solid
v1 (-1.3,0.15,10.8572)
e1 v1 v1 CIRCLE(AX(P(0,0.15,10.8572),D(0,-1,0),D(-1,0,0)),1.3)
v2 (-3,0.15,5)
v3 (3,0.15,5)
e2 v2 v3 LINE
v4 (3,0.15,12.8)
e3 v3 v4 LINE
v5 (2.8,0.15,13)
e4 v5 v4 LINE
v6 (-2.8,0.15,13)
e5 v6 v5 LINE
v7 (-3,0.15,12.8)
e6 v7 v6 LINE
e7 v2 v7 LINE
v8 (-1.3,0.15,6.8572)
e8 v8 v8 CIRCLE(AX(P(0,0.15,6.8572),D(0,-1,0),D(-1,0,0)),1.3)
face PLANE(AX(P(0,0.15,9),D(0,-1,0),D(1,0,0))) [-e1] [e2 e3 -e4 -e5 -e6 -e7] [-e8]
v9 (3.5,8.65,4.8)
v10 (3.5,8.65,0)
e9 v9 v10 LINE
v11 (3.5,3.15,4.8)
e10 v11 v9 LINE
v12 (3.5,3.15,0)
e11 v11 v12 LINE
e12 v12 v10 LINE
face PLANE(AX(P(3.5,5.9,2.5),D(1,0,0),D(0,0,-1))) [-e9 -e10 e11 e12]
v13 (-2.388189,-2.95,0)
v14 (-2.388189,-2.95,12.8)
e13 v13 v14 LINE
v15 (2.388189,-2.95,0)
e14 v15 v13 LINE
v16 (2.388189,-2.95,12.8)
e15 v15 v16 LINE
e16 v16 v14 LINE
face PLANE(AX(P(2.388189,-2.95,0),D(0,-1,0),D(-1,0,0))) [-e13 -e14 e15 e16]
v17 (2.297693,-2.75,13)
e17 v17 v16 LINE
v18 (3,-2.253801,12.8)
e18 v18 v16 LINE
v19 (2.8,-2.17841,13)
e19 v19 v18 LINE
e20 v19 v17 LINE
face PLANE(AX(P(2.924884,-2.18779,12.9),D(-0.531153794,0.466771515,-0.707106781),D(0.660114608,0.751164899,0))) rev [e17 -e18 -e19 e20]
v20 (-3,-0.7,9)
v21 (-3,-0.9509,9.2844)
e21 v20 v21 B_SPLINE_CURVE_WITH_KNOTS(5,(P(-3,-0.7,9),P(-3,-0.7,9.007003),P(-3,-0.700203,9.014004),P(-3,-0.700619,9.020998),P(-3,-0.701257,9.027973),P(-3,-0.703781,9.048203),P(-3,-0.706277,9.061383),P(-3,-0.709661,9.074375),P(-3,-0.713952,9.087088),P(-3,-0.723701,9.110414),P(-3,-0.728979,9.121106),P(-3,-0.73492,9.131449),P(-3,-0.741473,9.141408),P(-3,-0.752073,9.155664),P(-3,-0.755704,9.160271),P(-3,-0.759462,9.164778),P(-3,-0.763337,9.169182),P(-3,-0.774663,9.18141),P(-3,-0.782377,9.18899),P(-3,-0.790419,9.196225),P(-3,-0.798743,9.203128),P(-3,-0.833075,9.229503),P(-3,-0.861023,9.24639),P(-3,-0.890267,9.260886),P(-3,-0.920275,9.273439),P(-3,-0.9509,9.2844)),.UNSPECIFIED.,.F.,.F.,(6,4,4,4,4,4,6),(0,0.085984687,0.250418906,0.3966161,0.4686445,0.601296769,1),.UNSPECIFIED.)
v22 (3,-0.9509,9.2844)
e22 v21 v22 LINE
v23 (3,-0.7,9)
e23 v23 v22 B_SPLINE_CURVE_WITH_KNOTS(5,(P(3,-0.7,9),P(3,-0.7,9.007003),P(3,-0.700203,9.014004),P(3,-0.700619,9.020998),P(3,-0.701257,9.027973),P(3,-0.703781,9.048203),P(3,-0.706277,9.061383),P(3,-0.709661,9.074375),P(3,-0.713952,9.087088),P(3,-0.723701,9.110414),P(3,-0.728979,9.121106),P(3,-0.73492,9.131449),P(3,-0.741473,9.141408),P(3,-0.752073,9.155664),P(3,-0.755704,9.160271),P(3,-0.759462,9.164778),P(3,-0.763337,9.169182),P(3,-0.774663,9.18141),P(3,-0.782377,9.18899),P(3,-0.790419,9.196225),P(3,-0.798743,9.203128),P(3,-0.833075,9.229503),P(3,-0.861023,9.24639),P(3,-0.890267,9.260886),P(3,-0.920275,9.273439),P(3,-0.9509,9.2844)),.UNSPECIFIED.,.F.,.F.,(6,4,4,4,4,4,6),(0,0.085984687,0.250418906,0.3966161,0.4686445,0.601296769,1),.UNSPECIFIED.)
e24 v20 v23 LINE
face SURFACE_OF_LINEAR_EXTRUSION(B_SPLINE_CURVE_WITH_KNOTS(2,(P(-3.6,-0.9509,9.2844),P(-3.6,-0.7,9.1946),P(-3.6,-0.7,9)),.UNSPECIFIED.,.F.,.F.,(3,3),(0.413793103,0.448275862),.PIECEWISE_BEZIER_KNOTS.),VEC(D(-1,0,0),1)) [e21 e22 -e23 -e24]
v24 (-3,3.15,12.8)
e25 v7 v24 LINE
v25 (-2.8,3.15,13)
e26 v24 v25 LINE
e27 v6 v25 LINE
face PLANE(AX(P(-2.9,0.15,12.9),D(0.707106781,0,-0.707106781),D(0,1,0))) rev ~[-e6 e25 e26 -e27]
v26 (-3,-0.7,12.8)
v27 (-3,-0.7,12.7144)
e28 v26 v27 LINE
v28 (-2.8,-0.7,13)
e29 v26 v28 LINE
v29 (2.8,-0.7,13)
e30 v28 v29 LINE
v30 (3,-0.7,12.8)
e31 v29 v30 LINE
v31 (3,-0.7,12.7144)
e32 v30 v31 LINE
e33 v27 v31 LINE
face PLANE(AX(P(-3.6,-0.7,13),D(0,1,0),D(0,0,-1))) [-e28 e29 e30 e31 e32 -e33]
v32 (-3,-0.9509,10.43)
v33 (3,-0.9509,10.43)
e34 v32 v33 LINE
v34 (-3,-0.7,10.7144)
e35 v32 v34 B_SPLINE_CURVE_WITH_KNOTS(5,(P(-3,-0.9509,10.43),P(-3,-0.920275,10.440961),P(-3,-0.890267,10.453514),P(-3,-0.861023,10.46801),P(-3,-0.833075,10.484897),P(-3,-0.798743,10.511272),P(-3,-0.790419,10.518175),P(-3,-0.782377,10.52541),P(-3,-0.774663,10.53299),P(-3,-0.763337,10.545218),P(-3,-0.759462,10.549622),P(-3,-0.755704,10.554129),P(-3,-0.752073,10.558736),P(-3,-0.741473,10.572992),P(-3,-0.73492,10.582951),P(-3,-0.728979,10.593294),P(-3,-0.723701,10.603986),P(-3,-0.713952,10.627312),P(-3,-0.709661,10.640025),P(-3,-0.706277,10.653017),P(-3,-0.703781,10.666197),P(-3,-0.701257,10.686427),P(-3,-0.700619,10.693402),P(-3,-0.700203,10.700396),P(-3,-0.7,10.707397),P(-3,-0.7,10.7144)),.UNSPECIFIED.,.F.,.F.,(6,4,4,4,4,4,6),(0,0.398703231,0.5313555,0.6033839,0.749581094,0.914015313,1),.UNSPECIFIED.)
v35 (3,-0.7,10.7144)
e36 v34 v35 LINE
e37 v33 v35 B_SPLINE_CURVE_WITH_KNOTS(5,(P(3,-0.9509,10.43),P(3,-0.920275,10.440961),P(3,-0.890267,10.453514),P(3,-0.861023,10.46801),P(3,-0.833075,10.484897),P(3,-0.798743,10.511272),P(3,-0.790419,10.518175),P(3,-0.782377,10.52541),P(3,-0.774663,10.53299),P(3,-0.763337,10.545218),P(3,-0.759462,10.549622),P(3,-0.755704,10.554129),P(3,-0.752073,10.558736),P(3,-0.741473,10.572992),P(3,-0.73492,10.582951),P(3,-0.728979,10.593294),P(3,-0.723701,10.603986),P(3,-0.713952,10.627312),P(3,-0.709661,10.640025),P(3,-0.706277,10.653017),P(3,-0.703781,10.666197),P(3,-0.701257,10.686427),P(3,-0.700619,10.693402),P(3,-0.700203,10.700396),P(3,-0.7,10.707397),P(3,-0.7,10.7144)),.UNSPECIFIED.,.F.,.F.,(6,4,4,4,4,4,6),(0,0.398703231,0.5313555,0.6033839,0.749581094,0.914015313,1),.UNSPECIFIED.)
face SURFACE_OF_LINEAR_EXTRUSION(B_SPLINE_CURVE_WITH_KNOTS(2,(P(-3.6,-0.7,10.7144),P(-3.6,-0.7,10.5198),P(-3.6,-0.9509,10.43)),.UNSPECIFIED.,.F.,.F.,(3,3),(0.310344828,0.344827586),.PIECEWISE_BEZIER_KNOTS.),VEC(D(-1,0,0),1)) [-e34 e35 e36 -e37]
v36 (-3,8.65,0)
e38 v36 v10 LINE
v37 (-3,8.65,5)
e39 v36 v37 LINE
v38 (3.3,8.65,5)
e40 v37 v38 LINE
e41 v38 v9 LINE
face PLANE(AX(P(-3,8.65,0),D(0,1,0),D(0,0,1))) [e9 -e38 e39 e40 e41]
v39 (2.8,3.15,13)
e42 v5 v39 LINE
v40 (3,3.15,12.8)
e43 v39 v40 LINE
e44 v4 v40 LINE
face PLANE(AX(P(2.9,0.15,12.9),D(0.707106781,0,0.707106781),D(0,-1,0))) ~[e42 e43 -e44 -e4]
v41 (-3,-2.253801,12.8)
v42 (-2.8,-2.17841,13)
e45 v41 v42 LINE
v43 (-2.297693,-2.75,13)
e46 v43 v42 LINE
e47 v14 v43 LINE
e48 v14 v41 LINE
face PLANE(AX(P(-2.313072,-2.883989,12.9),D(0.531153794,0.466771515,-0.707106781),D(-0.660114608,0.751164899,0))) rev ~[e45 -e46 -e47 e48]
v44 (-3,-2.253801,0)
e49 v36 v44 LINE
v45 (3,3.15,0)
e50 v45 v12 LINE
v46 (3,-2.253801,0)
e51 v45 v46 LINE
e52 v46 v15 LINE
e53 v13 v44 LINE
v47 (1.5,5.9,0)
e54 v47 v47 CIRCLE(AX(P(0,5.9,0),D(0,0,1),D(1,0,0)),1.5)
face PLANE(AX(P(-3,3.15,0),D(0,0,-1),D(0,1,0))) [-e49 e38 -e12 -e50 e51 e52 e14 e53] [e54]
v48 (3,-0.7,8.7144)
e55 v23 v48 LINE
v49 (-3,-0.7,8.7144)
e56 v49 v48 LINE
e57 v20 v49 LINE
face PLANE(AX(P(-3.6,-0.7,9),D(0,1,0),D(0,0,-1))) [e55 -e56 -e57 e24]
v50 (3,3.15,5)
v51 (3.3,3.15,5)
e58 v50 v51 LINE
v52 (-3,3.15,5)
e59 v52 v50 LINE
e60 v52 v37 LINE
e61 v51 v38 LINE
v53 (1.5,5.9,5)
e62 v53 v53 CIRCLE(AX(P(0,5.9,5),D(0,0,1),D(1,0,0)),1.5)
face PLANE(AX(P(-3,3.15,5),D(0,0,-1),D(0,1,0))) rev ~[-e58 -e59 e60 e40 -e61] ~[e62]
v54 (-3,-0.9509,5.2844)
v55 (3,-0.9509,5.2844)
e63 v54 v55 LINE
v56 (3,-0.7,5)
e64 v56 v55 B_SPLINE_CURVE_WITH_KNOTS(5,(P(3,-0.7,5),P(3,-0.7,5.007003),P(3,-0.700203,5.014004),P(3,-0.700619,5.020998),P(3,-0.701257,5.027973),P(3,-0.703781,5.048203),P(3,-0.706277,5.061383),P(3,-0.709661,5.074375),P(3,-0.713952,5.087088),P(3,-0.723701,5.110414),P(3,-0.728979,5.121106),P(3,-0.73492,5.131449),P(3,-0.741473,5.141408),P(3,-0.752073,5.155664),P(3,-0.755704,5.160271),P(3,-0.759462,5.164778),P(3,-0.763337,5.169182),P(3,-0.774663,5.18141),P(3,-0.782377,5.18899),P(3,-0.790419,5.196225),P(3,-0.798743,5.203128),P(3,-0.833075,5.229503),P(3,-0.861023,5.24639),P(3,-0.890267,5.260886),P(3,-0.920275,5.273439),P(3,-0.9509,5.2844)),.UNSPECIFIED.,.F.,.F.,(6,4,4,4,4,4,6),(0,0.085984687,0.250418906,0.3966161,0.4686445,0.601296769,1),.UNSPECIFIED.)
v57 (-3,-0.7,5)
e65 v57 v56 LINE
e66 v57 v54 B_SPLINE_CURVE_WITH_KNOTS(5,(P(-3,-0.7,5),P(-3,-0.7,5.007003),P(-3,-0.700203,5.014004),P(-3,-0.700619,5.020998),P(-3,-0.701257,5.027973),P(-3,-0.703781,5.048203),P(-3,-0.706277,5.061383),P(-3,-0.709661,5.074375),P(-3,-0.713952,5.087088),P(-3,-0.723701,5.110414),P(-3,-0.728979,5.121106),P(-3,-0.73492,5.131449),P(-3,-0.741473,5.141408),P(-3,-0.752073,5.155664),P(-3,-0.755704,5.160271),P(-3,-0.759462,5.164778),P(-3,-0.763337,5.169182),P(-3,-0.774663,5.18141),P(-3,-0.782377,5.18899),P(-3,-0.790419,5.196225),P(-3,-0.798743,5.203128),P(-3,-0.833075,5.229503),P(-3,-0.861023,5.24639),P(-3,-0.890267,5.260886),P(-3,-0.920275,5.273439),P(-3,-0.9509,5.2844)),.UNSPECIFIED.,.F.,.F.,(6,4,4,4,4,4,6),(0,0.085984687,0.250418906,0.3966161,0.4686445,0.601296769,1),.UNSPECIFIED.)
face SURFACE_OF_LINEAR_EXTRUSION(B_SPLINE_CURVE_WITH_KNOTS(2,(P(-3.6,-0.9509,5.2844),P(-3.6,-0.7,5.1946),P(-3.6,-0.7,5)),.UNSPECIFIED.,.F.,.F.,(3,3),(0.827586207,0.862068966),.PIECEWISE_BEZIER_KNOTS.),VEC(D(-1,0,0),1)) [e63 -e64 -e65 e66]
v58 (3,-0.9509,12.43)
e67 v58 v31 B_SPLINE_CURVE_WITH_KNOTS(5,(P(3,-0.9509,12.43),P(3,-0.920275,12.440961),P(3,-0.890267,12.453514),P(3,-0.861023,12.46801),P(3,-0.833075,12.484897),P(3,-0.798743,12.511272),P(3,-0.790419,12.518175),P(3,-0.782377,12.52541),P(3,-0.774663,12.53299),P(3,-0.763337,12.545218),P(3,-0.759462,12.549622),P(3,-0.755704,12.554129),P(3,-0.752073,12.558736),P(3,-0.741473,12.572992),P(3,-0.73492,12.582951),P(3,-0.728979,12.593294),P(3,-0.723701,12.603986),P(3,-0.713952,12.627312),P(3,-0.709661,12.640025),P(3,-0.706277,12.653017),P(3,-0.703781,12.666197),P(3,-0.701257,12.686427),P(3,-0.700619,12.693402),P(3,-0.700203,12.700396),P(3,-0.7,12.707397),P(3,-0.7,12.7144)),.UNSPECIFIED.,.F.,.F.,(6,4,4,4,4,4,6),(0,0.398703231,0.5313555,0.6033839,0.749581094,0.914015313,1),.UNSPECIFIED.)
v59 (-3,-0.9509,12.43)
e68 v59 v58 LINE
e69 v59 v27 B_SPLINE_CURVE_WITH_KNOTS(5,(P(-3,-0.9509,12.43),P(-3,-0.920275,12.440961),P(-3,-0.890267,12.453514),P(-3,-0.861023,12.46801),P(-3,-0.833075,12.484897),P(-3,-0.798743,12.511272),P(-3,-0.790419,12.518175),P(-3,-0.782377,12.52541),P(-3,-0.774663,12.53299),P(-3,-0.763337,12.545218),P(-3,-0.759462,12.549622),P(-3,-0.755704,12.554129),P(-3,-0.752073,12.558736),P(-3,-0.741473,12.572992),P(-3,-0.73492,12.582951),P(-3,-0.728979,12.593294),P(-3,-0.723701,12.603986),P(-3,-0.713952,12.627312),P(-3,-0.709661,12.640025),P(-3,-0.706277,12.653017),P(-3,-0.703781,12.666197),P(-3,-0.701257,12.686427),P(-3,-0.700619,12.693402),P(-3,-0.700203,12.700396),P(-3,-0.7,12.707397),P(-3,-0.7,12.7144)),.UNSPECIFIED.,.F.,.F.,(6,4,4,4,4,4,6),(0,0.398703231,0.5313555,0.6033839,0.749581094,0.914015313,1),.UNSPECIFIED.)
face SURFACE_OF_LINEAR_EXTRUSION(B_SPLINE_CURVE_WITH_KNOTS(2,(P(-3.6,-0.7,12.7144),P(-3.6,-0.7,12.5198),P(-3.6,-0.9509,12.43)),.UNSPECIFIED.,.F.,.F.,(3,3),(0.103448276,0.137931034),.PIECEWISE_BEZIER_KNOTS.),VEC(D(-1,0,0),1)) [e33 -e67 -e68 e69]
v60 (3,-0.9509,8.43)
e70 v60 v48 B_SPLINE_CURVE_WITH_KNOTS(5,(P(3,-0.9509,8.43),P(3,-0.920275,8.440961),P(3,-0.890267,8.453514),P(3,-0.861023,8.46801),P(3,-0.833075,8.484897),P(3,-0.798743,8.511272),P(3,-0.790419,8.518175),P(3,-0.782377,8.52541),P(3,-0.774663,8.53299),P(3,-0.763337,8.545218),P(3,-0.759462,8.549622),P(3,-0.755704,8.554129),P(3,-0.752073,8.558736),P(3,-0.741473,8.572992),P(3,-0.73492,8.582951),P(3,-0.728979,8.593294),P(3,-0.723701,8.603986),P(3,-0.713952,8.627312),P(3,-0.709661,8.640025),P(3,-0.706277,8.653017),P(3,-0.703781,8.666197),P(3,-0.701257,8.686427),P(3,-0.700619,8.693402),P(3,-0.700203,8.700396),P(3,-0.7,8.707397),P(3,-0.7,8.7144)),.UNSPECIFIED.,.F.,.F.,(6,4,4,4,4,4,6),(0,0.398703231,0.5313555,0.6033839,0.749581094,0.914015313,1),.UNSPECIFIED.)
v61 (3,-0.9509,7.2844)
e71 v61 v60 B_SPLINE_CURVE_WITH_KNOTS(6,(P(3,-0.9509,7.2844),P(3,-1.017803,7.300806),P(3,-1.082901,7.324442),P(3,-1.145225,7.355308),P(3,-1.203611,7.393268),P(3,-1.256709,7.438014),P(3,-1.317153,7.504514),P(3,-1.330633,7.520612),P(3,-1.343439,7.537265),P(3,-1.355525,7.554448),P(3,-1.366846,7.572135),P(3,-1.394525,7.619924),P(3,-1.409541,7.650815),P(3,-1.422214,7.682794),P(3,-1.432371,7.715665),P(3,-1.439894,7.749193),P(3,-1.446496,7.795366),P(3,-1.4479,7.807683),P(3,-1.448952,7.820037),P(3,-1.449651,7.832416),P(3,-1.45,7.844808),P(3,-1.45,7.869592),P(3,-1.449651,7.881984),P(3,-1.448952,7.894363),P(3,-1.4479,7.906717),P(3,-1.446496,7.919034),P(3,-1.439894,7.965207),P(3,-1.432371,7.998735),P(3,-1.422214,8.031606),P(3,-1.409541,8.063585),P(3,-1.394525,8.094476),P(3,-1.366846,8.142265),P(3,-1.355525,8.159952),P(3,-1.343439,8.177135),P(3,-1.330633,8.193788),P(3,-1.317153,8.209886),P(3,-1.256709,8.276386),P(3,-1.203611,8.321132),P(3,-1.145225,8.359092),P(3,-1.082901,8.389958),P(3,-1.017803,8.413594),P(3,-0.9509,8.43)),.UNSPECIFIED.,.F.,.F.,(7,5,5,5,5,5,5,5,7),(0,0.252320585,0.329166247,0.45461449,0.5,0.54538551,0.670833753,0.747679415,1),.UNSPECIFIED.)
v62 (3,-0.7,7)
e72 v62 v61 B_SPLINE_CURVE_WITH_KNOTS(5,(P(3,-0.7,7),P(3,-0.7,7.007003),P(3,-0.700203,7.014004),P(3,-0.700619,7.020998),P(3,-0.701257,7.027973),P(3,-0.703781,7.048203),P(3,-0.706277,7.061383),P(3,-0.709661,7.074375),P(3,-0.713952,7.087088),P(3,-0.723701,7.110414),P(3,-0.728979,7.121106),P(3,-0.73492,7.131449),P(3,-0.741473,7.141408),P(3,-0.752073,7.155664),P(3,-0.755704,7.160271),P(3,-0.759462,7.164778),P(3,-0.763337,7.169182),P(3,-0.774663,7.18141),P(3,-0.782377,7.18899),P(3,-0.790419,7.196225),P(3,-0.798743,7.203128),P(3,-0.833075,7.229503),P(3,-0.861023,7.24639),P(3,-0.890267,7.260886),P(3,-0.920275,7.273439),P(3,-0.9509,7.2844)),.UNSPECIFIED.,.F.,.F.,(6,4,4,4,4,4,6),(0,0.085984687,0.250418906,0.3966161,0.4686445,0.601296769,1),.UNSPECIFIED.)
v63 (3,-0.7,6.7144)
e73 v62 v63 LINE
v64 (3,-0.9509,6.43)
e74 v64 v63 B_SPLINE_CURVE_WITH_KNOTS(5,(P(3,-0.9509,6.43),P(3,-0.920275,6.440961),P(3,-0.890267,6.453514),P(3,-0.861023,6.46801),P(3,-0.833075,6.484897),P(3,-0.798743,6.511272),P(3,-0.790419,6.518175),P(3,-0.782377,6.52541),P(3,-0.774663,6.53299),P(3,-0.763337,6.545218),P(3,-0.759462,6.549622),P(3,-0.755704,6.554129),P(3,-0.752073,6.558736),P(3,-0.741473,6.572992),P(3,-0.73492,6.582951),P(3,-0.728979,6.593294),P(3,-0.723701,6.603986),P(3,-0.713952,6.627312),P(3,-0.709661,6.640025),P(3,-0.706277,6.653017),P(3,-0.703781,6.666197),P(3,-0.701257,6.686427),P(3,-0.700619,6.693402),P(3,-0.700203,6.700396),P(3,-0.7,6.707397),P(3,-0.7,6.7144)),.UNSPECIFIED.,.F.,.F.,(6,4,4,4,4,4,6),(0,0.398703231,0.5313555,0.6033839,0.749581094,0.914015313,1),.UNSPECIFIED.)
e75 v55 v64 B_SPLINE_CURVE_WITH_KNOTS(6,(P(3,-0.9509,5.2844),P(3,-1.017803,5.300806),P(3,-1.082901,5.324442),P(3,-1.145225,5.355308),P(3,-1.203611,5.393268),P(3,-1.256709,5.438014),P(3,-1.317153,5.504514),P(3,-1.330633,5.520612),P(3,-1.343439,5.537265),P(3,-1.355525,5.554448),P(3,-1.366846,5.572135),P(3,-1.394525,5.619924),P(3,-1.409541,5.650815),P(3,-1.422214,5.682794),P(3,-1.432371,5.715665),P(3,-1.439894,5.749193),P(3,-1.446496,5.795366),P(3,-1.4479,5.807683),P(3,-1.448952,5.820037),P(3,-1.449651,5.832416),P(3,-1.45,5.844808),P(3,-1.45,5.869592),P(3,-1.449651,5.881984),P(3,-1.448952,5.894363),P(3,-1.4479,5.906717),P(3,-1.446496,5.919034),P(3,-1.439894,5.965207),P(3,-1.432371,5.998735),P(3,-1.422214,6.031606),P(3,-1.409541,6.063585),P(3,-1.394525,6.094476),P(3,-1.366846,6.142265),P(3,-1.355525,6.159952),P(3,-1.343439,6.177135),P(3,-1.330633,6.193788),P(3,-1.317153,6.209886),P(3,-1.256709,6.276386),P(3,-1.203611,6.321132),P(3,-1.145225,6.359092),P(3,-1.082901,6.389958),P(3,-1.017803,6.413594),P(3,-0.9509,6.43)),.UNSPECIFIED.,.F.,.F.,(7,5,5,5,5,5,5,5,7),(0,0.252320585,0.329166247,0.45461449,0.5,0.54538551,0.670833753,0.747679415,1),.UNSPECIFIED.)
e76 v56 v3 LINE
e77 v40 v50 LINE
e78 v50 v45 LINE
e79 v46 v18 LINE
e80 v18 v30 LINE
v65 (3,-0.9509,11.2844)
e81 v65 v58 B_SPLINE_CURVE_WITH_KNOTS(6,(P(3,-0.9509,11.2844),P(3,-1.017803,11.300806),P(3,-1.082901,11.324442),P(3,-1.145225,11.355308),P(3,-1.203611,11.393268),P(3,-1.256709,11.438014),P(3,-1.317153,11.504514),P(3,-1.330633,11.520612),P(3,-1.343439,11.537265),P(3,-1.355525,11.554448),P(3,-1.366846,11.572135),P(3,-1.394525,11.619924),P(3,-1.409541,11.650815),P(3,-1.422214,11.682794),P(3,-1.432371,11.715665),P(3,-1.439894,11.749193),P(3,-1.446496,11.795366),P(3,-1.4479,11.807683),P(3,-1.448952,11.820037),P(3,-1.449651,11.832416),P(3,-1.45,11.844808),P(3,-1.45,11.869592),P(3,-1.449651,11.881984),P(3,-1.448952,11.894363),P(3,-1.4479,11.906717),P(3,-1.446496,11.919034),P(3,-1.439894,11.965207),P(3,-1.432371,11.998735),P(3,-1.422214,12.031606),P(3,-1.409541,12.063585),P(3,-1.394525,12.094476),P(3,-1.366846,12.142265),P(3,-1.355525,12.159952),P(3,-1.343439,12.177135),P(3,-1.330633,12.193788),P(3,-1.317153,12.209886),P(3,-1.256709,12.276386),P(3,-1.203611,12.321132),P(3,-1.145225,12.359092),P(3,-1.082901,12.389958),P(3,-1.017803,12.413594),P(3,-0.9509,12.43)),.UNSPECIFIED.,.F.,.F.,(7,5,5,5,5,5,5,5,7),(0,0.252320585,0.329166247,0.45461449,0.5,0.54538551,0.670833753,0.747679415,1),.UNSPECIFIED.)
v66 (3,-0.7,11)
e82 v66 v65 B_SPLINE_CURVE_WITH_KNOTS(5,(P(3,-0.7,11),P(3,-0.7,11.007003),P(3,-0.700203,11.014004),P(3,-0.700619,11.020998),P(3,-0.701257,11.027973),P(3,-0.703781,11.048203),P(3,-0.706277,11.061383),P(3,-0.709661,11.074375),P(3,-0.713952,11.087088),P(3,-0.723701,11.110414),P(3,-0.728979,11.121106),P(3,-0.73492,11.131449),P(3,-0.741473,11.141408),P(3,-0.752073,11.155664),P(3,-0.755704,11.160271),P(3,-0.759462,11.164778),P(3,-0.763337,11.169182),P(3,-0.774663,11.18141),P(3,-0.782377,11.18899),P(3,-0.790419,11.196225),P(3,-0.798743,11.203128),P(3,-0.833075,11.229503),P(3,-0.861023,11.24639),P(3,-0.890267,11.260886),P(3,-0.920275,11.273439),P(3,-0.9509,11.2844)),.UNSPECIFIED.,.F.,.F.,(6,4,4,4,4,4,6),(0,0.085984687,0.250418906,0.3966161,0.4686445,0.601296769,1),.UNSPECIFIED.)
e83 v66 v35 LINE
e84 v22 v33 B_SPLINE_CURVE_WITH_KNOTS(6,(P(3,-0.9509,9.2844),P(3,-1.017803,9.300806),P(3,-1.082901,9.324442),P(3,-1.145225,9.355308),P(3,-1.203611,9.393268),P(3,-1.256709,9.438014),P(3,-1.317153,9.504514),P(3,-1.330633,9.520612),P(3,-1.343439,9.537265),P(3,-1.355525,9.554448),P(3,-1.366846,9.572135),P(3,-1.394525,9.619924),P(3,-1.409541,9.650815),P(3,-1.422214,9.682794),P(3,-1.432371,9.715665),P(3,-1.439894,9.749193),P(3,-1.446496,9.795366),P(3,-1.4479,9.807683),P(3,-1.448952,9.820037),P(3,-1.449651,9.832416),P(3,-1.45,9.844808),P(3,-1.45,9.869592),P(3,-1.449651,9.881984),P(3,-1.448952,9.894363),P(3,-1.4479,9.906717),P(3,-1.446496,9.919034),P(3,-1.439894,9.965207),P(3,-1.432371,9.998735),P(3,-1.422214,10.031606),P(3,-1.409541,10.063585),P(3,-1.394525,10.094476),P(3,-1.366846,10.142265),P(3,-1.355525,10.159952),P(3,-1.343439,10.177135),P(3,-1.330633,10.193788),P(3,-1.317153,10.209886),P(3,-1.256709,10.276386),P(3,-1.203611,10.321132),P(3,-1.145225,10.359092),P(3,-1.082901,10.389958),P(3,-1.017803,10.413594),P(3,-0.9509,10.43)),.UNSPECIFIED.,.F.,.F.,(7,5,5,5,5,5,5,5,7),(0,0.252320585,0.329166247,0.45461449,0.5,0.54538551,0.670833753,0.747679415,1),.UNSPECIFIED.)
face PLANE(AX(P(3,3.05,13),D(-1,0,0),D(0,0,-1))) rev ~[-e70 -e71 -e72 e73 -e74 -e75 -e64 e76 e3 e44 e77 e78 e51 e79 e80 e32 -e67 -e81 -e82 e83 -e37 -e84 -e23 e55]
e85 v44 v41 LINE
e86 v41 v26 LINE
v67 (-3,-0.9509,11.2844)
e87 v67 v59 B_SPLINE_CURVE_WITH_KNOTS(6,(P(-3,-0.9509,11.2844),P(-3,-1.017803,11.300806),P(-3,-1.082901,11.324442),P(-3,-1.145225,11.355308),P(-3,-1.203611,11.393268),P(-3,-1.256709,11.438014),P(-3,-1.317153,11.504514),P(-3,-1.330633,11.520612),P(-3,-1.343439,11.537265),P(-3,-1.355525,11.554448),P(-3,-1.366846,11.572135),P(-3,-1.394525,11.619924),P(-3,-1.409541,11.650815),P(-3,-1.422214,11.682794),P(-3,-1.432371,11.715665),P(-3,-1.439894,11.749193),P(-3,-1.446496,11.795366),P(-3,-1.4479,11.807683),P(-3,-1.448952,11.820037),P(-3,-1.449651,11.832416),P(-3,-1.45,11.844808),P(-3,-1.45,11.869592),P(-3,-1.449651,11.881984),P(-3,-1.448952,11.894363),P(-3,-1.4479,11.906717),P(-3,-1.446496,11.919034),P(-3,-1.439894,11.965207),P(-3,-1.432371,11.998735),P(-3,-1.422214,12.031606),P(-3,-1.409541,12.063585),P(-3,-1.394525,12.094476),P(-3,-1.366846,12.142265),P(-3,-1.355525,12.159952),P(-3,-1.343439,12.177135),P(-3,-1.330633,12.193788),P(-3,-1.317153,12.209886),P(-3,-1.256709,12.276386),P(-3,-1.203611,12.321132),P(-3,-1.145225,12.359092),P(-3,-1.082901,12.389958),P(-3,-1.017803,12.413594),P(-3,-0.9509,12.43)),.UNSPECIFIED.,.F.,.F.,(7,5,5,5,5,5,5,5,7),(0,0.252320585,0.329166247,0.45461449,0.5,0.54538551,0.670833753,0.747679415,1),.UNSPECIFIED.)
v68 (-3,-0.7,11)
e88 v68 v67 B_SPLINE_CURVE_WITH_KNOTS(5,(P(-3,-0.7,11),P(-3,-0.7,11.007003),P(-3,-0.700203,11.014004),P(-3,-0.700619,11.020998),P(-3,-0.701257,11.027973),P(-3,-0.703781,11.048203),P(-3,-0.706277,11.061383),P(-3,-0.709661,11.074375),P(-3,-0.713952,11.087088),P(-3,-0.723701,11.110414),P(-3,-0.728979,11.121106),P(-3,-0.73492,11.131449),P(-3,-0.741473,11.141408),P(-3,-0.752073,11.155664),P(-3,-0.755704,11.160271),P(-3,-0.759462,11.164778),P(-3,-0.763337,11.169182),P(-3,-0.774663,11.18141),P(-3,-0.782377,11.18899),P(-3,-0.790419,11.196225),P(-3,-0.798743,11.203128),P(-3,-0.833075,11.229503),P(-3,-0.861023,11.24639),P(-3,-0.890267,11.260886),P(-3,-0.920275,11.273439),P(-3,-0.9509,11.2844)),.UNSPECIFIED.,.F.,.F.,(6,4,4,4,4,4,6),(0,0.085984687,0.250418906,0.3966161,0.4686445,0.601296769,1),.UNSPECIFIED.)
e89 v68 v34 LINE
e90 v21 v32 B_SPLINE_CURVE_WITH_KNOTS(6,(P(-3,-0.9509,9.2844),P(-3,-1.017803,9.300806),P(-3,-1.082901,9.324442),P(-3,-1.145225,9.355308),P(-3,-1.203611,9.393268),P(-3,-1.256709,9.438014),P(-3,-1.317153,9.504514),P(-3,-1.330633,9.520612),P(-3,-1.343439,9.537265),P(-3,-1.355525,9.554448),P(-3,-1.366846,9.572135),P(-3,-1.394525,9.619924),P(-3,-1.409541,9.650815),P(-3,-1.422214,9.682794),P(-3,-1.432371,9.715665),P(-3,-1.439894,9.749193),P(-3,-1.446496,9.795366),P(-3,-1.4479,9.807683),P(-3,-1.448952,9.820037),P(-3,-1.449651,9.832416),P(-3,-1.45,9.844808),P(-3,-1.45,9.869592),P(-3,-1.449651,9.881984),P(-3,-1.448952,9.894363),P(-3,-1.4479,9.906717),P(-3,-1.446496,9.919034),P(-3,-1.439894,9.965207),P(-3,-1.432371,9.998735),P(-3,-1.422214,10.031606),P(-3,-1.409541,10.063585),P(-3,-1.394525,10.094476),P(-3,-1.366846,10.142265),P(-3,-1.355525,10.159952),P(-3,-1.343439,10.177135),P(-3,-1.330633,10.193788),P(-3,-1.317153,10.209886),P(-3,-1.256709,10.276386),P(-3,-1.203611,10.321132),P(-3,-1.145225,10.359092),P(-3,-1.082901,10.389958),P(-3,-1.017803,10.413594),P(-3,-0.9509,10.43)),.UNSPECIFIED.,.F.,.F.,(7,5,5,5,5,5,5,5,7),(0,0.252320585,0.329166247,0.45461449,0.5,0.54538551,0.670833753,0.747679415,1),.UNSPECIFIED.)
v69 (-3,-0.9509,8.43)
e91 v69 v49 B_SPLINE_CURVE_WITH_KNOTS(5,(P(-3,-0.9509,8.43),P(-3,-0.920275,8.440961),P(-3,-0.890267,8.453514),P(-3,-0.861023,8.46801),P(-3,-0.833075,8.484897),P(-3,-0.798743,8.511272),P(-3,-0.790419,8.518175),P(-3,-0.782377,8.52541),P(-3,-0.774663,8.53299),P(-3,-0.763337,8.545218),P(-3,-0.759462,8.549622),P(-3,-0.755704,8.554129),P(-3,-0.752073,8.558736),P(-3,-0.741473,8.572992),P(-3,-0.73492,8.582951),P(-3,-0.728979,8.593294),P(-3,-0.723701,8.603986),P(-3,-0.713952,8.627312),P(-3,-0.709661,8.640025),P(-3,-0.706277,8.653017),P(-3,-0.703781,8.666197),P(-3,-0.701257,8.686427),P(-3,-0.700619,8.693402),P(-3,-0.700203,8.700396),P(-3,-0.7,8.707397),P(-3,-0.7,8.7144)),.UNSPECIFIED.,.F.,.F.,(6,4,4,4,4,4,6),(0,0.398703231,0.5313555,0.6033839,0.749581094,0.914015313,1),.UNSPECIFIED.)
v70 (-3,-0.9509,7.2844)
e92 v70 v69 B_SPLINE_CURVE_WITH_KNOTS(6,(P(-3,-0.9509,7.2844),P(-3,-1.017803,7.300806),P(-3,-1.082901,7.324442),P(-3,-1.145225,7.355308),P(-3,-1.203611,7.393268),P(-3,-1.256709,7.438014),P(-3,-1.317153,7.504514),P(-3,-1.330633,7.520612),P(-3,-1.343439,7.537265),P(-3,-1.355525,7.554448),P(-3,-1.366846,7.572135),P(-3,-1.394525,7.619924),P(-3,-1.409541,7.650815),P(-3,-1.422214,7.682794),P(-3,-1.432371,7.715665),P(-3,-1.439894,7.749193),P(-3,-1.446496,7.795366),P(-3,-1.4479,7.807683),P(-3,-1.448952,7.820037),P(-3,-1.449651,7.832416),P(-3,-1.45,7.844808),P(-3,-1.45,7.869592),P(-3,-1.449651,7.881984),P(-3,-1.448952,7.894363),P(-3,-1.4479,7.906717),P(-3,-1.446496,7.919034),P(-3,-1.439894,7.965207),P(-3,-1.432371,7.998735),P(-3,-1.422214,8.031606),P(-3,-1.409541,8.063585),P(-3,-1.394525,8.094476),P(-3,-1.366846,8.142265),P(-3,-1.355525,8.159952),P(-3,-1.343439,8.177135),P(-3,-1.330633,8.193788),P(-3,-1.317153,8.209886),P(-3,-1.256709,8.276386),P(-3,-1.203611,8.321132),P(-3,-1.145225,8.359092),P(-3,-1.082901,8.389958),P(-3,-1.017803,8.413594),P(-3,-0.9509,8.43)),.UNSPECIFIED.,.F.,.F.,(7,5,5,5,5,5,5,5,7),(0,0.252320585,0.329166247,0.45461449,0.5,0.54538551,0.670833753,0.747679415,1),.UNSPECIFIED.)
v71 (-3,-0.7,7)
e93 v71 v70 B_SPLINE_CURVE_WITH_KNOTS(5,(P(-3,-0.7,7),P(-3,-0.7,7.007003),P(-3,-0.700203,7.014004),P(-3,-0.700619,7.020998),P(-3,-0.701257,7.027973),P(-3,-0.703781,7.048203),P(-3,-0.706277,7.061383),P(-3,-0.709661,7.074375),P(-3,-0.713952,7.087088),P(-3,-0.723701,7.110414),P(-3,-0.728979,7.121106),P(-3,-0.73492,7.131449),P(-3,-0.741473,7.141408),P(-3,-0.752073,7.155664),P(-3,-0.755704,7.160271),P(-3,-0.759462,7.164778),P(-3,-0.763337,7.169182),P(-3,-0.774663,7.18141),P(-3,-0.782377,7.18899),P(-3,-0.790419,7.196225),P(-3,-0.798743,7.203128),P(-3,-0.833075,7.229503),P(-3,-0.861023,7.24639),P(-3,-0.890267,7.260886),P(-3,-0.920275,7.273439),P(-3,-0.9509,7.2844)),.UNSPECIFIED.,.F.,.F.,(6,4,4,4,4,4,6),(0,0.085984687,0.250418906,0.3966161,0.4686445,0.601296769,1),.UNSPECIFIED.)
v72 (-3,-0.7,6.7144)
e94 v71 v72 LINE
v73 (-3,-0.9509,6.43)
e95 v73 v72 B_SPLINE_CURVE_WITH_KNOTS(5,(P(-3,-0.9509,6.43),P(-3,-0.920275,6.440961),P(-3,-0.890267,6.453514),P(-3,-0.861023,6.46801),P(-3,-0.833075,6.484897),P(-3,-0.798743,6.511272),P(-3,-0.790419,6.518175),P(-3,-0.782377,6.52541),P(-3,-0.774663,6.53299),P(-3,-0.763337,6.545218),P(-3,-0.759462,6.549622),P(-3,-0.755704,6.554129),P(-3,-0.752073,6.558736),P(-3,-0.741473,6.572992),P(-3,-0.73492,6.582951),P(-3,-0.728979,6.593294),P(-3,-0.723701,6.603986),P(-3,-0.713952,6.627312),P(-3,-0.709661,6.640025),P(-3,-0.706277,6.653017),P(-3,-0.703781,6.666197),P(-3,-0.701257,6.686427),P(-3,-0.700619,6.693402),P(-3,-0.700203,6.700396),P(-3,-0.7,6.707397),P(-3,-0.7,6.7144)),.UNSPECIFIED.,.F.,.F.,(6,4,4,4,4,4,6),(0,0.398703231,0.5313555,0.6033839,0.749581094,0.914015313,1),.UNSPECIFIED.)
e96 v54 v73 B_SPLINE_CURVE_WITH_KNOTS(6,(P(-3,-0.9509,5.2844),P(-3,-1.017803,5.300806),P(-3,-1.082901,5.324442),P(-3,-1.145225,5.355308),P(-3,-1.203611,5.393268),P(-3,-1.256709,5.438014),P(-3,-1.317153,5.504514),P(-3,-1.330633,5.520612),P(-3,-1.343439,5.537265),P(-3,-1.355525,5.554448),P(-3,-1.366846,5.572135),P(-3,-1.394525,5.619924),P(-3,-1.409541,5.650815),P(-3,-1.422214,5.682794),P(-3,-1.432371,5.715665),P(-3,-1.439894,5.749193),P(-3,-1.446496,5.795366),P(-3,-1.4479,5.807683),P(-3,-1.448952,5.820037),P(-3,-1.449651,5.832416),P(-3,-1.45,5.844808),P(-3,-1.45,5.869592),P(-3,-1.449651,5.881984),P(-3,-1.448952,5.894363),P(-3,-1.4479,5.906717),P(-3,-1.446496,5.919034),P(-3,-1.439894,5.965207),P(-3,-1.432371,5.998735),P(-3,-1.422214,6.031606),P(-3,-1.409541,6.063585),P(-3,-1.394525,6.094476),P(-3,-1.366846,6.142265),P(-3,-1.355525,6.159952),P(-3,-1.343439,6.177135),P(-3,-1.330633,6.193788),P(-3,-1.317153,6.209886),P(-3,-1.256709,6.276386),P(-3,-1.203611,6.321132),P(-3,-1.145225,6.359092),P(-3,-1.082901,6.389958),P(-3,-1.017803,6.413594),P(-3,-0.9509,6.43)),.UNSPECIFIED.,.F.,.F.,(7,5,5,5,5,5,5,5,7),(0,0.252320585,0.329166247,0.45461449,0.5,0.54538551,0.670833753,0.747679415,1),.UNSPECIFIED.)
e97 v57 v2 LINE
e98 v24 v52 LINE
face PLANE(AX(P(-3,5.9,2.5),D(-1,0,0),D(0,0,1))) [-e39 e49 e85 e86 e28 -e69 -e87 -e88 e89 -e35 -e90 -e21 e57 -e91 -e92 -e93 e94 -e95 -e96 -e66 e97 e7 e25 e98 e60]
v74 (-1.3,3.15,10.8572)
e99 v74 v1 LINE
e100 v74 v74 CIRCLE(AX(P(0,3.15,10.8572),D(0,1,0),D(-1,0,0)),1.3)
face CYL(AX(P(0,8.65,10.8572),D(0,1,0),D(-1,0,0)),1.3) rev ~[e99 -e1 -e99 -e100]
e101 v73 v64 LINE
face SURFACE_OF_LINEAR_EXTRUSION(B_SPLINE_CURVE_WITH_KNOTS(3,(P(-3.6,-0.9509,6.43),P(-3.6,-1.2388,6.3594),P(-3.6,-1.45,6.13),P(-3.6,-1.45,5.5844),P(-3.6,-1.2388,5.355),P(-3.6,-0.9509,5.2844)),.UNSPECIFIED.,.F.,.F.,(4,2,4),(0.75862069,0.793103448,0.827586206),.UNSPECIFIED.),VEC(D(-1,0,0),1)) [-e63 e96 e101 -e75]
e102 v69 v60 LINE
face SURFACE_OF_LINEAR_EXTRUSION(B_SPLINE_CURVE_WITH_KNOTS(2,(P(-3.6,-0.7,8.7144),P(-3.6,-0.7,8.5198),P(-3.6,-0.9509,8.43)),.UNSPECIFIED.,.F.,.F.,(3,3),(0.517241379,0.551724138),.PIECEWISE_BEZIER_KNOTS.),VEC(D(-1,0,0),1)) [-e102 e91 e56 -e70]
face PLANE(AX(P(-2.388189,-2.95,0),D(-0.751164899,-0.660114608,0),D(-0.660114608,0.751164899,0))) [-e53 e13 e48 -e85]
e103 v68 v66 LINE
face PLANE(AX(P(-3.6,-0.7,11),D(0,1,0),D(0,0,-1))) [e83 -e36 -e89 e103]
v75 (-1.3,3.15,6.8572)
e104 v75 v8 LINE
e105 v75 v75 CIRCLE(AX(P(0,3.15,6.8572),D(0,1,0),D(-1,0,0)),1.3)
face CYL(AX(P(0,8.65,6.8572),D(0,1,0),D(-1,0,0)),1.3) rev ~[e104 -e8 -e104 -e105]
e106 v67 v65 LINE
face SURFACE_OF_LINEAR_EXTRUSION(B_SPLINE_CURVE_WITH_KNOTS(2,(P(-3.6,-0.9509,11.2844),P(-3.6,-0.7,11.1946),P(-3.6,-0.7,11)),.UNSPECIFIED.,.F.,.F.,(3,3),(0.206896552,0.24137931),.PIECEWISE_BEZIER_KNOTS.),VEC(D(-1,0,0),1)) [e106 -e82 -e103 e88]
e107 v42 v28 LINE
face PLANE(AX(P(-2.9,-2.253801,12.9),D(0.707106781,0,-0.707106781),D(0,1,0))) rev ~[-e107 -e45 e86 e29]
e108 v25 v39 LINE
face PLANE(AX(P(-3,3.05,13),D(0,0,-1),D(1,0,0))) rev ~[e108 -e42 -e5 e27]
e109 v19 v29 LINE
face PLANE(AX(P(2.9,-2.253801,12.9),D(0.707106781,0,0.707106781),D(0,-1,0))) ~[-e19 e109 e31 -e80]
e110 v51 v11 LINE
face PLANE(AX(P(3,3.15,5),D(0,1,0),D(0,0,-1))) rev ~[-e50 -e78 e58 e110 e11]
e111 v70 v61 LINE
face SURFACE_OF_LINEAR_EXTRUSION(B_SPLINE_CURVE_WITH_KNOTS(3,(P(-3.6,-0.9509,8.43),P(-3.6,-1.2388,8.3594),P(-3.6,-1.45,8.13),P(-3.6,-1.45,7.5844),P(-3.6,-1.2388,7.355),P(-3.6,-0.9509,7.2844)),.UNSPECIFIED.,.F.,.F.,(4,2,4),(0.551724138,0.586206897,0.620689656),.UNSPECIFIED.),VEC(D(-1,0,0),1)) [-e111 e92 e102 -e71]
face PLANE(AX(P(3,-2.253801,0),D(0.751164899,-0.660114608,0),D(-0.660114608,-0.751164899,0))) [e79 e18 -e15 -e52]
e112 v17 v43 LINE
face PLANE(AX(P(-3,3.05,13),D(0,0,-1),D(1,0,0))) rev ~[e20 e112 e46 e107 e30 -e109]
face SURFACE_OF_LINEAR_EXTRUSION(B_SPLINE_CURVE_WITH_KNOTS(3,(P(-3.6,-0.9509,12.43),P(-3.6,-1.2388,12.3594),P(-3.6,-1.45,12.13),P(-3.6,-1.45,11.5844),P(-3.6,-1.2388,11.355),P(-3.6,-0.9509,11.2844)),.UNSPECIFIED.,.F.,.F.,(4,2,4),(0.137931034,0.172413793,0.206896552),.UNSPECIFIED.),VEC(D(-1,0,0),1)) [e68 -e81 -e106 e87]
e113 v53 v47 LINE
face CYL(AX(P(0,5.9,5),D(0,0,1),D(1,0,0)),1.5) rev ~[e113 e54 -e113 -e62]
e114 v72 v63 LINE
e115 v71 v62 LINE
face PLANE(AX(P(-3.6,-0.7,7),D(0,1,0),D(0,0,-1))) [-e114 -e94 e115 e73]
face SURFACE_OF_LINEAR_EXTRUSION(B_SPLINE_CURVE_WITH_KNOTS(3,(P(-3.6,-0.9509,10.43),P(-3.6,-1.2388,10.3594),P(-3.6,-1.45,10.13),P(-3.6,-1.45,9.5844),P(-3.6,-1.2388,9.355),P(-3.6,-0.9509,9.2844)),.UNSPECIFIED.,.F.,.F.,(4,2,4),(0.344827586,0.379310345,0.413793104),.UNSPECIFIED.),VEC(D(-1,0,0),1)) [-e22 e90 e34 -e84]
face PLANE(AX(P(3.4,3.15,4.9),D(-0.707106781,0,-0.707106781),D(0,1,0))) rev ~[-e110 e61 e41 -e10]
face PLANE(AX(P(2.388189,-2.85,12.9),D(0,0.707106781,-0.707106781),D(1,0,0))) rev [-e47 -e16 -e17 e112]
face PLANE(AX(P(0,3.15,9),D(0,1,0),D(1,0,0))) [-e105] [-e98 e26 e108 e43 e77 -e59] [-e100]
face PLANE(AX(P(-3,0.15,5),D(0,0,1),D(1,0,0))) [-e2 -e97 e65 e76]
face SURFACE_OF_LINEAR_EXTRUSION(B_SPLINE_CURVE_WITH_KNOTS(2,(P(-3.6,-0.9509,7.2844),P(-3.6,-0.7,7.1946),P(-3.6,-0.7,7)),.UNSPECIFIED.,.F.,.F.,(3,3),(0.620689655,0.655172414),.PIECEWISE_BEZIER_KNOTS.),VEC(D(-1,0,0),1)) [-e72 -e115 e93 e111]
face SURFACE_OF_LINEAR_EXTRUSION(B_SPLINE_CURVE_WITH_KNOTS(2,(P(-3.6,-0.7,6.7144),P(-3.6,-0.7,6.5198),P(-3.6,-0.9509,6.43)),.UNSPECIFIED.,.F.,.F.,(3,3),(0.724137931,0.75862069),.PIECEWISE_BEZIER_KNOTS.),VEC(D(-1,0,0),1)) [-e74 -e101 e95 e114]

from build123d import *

# Parameters (mm, degrees)
BOSS_EXTRUDE1_DEPTH     = 13
SKETCH6_W               = 6
SKETCH6_H               = 5
BOSS_EXTRUDE4_DEPTH     = 5.6
SKETCH16_W              = 6
SKETCH16_H              = 8
BOSS_EXTRUDE5_DEPTH     = 0.1
CUT_EXTRUDE6_DEPTH      = 4
CUT_EXTRUDE6_DEPTH_BACK = 3.6
SKETCH15_R              = 1.3
CUT_EXTRUDE7_DEPTH      = 8.7202
CUT_EXTRUDE8_START      = -0.2202
SKETCH19_W              = 6
SKETCH19_H              = 8
SKETCH19_R              = 1.3
CUT_EXTRUDE8_DEPTH      = 0.2202
SKETCH12_R              = 1.5
CUT_EXTRUDE5_DEPTH      = 6
CHAMFER1_SIZE           = 0.2
SKETCH20_W              = 5
SKETCH20_H              = 5.5
BOSS_EXTRUDE6_DEPTH     = 0.5
SKETCH21_W              = 5
SKETCH21_H              = 5.5
BOSS_EXTRUDE7_DEPTH     = 0.5
CHAMFER2_SIZE           = 0.2
CROQUIS1_W              = 5
CROQUIS1_H              = 5.5
CORTAR_EXTRUIR1_DEPTH   = 0.5


with BuildPart() as part:
    # Sketch1 → Boss-Extrude1 (new body)
    with BuildSketch(Plane.XY):
        Polygon((3, 3.05), (3, -2.253801214), (2.388188946, -2.95), (-2.388188946, -2.95), (-3, -2.253801214), (-3, 3.05), align=None)
    extrude(amount=BOSS_EXTRUDE1_DEPTH)

    # Sketch6 → Boss-Extrude4 (add)
    with BuildSketch(Plane(origin=(0, 3.05, 0), x_dir=(1, 0, 0), z_dir=(0, 1, 0))):
        with Locations((0, -2.5)):
            Rectangle(SKETCH6_W, SKETCH6_H)
    extrude(amount=BOSS_EXTRUDE4_DEPTH)

    # Sketch16 → Boss-Extrude5 (add)
    with BuildSketch(Plane(origin=(0, 3.05, 0), x_dir=(1, 0, 0), z_dir=(0, 1, 0))):
        with Locations((0, -9)):
            Rectangle(SKETCH16_W, SKETCH16_H)
    extrude(amount=BOSS_EXTRUDE5_DEPTH)

    # Sketch18 → Cut-Extrude6 (cut, two sides: drawn at the far end of the back side and taken through both)
    with BuildSketch(Plane(origin=(0, 0, 0), x_dir=(0, 0, -1), z_dir=(1, 0, 0)).offset(-CUT_EXTRUDE6_DEPTH_BACK)):
        with BuildLine():
            Line((-8.8572, -0.0702), (-12.8572, -0.0702))
            Line((-12.8572, -0.0702), (-13, -0.0702))
            Line((-13, -0.0702), (-13, -0.7))
            Line((-13, -0.7), (-12.8572, -0.7))
            Line((-12.8572, -0.7), (-12.7144, -0.7))
            add(Edge.make_bspline(
                [(-12.7144, -0.7), (-12.5198, -0.7), (-12.43, -0.9509)],
                knots=[0.103448276, 0.103448276, 0.103448276, 0.137931034, 0.137931034, 0.137931034], degree=2))
            add(Edge.make_bspline(
                [(-12.43, -0.9509), (-12.3594, -1.2388), (-12.13, -1.45), (-11.8572, -1.45)],
                knots=[0.137931034, 0.137931034, 0.137931034, 0.137931034, 0.172413793, 0.172413793, 0.172413793, 0.172413793], degree=3))
            add(Edge.make_bspline(
                [(-11.8572, -1.45), (-11.5844, -1.45), (-11.355, -1.2388), (-11.2844, -0.9509)],
                knots=[0.172413793, 0.172413793, 0.172413793, 0.172413793, 0.206896552, 0.206896552, 0.206896552, 0.206896552], degree=3))
            add(Edge.make_bspline(
                [(-11.2844, -0.9509), (-11.1946, -0.7), (-11, -0.7)],
                knots=[0.206896552, 0.206896552, 0.206896552, 0.24137931, 0.24137931, 0.24137931], degree=2))
            Line((-11, -0.7), (-10.8572, -0.7))
            Line((-10.8572, -0.7), (-10.7144, -0.7))
            add(Edge.make_bspline(
                [(-10.7144, -0.7), (-10.5198, -0.7), (-10.43, -0.9509)],
                knots=[0.310344828, 0.310344828, 0.310344828, 0.344827586, 0.344827586, 0.344827586], degree=2))
            add(Edge.make_bspline(
                [(-10.43, -0.9509), (-10.3594, -1.2388), (-10.13, -1.45), (-9.8572, -1.45)],
                knots=[0.344827586, 0.344827586, 0.344827586, 0.344827586, 0.379310345, 0.379310345, 0.379310345, 0.379310345], degree=3))
            add(Edge.make_bspline(
                [(-9.8572, -1.45), (-9.5844, -1.45), (-9.355, -1.2388), (-9.2844, -0.9509)],
                knots=[0.379310345, 0.379310345, 0.379310345, 0.379310345, 0.413793103, 0.413793103, 0.413793103, 0.413793103], degree=3))
            add(Edge.make_bspline(
                [(-9.2844, -0.9509), (-9.1946, -0.7), (-9, -0.7)],
                knots=[0.413793103, 0.413793103, 0.413793103, 0.448275862, 0.448275862, 0.448275862], degree=2))
            Line((-9, -0.7), (-8.8572, -0.7))
            Line((-8.8572, -0.7), (-8.7144, -0.7))
            add(Edge.make_bspline(
                [(-8.7144, -0.7), (-8.5198, -0.7), (-8.43, -0.9509)],
                knots=[0.517241379, 0.517241379, 0.517241379, 0.551724138, 0.551724138, 0.551724138], degree=2))
            add(Edge.make_bspline(
                [(-8.43, -0.9509), (-8.3594, -1.2388), (-8.13, -1.45), (-7.8572, -1.45)],
                knots=[0.551724138, 0.551724138, 0.551724138, 0.551724138, 0.586206897, 0.586206897, 0.586206897, 0.586206897], degree=3))
            add(Edge.make_bspline(
                [(-7.8572, -1.45), (-7.5844, -1.45), (-7.355, -1.2388), (-7.2844, -0.9509)],
                knots=[0.586206897, 0.586206897, 0.586206897, 0.586206897, 0.620689655, 0.620689655, 0.620689655, 0.620689655], degree=3))
            add(Edge.make_bspline(
                [(-7.2844, -0.9509), (-7.1946, -0.7), (-7, -0.7)],
                knots=[0.620689655, 0.620689655, 0.620689655, 0.655172414, 0.655172414, 0.655172414], degree=2))
            Line((-7, -0.7), (-6.8572, -0.7))
            Line((-6.8572, -0.7), (-6.7144, -0.7))
            add(Edge.make_bspline(
                [(-6.7144, -0.7), (-6.5198, -0.7), (-6.43, -0.9509)],
                knots=[0.724137931, 0.724137931, 0.724137931, 0.75862069, 0.75862069, 0.75862069], degree=2))
            add(Edge.make_bspline(
                [(-6.43, -0.9509), (-6.3594, -1.2388), (-6.13, -1.45), (-5.8572, -1.45)],
                knots=[0.75862069, 0.75862069, 0.75862069, 0.75862069, 0.793103448, 0.793103448, 0.793103448, 0.793103448], degree=3))
            add(Edge.make_bspline(
                [(-5.8572, -1.45), (-5.5844, -1.45), (-5.355, -1.2388), (-5.2844, -0.9509)],
                knots=[0.793103448, 0.793103448, 0.793103448, 0.793103448, 0.827586207, 0.827586207, 0.827586207, 0.827586207], degree=3))
            add(Edge.make_bspline(
                [(-5.2844, -0.9509), (-5.1946, -0.7), (-5, -0.7)],
                knots=[0.827586207, 0.827586207, 0.827586207, 0.862068966, 0.862068966, 0.862068966], degree=2))
            Line((-5, -0.7), (-5, -0.0702))
            Line((-5, -0.0702), (-8.8572, -0.0702))
        make_face()
    extrude(amount=CUT_EXTRUDE6_DEPTH + CUT_EXTRUDE6_DEPTH_BACK, mode=Mode.SUBTRACT)

    # Sketch15 → Cut-Extrude7 (cut)
    with BuildSketch(Plane(origin=(0, 8.65, 0), x_dir=(1, 0, 0), z_dir=(0, 1, 0))):
        with Locations(Location((0, -10.8572, 0), (0, 0, 180))):
            Circle(SKETCH15_R)
        with Locations(Location((0, -6.8572, 0), (0, 0, 180))):
            Circle(SKETCH15_R)
    extrude(amount=-CUT_EXTRUDE7_DEPTH, mode=Mode.SUBTRACT)

    # Sketch19 → Cut-Extrude8 (cut)
    with BuildSketch(Plane.XZ.offset(0.0702).offset(CUT_EXTRUDE8_START)):
        with Locations((0, 9)):
            Rectangle(SKETCH19_W, SKETCH19_H)
        with Locations(Location((0, 10.8572, 0), (0, 0, 180))):
            Circle(SKETCH19_R, mode=Mode.SUBTRACT)
        with Locations(Location((0, 6.8572, 0), (0, 0, 180))):
            Circle(SKETCH19_R, mode=Mode.SUBTRACT)
    extrude(amount=CUT_EXTRUDE8_DEPTH, mode=Mode.SUBTRACT)

    # Sketch12 → Cut-Extrude5 (cut)
    with BuildSketch(Plane.XY.offset(5)):
        with Locations((0, 5.9)):
            Circle(SKETCH12_R)
    extrude(amount=-CUT_EXTRUDE5_DEPTH, mode=Mode.SUBTRACT)

    # Chamfer1
    chamfer1_edges = [part.edges().sort_by_distance(p)[0] for p in [
        (-2.694094473, -2.601900607, 13),
        (0, -2.95, 13),
        (2.694094473, -2.601900607, 13),
        (3, 1.65, 13),
        (3, -1.476900607, 13),
        (-3, -1.476900607, 13),
        (-3, 1.65, 13),
    ]]
    chamfer(chamfer1_edges, length=CHAMFER1_SIZE)

    # Sketch20 → Boss-Extrude6 (add)
    with BuildSketch(Plane(origin=(3, 0, 0), x_dir=(0, 0, -1), z_dir=(1, 0, 0))):
        with Locations((-2.5, 5.9)):
            Rectangle(SKETCH20_W, SKETCH20_H)
    extrude(amount=BOSS_EXTRUDE6_DEPTH)

    # Sketch21 → Boss-Extrude7 (add)
    with BuildSketch(Plane.ZY.offset(3)):
        with Locations((2.5, 5.9)):
            Rectangle(SKETCH21_W, SKETCH21_H)
    extrude(amount=BOSS_EXTRUDE7_DEPTH)

    # Chamfer2
    chamfer2_edges = [part.edges().sort_by_distance(p)[0] for p in [
        (3.5, 5.9, 5),
        (-3.5, 5.9, 5),
    ]]
    chamfer(chamfer2_edges, length=CHAMFER2_SIZE)

    # Croquis1 → Cortar-Extruir1 (cut)
    with BuildSketch(Plane.ZY.offset(3.5)):
        with Locations((2.5, 5.9)):
            Rectangle(CROQUIS1_W, CROQUIS1_H)
    extrude(amount=-CORTAR_EXTRUIR1_DEPTH, mode=Mode.SUBTRACT)


solid = part.part
